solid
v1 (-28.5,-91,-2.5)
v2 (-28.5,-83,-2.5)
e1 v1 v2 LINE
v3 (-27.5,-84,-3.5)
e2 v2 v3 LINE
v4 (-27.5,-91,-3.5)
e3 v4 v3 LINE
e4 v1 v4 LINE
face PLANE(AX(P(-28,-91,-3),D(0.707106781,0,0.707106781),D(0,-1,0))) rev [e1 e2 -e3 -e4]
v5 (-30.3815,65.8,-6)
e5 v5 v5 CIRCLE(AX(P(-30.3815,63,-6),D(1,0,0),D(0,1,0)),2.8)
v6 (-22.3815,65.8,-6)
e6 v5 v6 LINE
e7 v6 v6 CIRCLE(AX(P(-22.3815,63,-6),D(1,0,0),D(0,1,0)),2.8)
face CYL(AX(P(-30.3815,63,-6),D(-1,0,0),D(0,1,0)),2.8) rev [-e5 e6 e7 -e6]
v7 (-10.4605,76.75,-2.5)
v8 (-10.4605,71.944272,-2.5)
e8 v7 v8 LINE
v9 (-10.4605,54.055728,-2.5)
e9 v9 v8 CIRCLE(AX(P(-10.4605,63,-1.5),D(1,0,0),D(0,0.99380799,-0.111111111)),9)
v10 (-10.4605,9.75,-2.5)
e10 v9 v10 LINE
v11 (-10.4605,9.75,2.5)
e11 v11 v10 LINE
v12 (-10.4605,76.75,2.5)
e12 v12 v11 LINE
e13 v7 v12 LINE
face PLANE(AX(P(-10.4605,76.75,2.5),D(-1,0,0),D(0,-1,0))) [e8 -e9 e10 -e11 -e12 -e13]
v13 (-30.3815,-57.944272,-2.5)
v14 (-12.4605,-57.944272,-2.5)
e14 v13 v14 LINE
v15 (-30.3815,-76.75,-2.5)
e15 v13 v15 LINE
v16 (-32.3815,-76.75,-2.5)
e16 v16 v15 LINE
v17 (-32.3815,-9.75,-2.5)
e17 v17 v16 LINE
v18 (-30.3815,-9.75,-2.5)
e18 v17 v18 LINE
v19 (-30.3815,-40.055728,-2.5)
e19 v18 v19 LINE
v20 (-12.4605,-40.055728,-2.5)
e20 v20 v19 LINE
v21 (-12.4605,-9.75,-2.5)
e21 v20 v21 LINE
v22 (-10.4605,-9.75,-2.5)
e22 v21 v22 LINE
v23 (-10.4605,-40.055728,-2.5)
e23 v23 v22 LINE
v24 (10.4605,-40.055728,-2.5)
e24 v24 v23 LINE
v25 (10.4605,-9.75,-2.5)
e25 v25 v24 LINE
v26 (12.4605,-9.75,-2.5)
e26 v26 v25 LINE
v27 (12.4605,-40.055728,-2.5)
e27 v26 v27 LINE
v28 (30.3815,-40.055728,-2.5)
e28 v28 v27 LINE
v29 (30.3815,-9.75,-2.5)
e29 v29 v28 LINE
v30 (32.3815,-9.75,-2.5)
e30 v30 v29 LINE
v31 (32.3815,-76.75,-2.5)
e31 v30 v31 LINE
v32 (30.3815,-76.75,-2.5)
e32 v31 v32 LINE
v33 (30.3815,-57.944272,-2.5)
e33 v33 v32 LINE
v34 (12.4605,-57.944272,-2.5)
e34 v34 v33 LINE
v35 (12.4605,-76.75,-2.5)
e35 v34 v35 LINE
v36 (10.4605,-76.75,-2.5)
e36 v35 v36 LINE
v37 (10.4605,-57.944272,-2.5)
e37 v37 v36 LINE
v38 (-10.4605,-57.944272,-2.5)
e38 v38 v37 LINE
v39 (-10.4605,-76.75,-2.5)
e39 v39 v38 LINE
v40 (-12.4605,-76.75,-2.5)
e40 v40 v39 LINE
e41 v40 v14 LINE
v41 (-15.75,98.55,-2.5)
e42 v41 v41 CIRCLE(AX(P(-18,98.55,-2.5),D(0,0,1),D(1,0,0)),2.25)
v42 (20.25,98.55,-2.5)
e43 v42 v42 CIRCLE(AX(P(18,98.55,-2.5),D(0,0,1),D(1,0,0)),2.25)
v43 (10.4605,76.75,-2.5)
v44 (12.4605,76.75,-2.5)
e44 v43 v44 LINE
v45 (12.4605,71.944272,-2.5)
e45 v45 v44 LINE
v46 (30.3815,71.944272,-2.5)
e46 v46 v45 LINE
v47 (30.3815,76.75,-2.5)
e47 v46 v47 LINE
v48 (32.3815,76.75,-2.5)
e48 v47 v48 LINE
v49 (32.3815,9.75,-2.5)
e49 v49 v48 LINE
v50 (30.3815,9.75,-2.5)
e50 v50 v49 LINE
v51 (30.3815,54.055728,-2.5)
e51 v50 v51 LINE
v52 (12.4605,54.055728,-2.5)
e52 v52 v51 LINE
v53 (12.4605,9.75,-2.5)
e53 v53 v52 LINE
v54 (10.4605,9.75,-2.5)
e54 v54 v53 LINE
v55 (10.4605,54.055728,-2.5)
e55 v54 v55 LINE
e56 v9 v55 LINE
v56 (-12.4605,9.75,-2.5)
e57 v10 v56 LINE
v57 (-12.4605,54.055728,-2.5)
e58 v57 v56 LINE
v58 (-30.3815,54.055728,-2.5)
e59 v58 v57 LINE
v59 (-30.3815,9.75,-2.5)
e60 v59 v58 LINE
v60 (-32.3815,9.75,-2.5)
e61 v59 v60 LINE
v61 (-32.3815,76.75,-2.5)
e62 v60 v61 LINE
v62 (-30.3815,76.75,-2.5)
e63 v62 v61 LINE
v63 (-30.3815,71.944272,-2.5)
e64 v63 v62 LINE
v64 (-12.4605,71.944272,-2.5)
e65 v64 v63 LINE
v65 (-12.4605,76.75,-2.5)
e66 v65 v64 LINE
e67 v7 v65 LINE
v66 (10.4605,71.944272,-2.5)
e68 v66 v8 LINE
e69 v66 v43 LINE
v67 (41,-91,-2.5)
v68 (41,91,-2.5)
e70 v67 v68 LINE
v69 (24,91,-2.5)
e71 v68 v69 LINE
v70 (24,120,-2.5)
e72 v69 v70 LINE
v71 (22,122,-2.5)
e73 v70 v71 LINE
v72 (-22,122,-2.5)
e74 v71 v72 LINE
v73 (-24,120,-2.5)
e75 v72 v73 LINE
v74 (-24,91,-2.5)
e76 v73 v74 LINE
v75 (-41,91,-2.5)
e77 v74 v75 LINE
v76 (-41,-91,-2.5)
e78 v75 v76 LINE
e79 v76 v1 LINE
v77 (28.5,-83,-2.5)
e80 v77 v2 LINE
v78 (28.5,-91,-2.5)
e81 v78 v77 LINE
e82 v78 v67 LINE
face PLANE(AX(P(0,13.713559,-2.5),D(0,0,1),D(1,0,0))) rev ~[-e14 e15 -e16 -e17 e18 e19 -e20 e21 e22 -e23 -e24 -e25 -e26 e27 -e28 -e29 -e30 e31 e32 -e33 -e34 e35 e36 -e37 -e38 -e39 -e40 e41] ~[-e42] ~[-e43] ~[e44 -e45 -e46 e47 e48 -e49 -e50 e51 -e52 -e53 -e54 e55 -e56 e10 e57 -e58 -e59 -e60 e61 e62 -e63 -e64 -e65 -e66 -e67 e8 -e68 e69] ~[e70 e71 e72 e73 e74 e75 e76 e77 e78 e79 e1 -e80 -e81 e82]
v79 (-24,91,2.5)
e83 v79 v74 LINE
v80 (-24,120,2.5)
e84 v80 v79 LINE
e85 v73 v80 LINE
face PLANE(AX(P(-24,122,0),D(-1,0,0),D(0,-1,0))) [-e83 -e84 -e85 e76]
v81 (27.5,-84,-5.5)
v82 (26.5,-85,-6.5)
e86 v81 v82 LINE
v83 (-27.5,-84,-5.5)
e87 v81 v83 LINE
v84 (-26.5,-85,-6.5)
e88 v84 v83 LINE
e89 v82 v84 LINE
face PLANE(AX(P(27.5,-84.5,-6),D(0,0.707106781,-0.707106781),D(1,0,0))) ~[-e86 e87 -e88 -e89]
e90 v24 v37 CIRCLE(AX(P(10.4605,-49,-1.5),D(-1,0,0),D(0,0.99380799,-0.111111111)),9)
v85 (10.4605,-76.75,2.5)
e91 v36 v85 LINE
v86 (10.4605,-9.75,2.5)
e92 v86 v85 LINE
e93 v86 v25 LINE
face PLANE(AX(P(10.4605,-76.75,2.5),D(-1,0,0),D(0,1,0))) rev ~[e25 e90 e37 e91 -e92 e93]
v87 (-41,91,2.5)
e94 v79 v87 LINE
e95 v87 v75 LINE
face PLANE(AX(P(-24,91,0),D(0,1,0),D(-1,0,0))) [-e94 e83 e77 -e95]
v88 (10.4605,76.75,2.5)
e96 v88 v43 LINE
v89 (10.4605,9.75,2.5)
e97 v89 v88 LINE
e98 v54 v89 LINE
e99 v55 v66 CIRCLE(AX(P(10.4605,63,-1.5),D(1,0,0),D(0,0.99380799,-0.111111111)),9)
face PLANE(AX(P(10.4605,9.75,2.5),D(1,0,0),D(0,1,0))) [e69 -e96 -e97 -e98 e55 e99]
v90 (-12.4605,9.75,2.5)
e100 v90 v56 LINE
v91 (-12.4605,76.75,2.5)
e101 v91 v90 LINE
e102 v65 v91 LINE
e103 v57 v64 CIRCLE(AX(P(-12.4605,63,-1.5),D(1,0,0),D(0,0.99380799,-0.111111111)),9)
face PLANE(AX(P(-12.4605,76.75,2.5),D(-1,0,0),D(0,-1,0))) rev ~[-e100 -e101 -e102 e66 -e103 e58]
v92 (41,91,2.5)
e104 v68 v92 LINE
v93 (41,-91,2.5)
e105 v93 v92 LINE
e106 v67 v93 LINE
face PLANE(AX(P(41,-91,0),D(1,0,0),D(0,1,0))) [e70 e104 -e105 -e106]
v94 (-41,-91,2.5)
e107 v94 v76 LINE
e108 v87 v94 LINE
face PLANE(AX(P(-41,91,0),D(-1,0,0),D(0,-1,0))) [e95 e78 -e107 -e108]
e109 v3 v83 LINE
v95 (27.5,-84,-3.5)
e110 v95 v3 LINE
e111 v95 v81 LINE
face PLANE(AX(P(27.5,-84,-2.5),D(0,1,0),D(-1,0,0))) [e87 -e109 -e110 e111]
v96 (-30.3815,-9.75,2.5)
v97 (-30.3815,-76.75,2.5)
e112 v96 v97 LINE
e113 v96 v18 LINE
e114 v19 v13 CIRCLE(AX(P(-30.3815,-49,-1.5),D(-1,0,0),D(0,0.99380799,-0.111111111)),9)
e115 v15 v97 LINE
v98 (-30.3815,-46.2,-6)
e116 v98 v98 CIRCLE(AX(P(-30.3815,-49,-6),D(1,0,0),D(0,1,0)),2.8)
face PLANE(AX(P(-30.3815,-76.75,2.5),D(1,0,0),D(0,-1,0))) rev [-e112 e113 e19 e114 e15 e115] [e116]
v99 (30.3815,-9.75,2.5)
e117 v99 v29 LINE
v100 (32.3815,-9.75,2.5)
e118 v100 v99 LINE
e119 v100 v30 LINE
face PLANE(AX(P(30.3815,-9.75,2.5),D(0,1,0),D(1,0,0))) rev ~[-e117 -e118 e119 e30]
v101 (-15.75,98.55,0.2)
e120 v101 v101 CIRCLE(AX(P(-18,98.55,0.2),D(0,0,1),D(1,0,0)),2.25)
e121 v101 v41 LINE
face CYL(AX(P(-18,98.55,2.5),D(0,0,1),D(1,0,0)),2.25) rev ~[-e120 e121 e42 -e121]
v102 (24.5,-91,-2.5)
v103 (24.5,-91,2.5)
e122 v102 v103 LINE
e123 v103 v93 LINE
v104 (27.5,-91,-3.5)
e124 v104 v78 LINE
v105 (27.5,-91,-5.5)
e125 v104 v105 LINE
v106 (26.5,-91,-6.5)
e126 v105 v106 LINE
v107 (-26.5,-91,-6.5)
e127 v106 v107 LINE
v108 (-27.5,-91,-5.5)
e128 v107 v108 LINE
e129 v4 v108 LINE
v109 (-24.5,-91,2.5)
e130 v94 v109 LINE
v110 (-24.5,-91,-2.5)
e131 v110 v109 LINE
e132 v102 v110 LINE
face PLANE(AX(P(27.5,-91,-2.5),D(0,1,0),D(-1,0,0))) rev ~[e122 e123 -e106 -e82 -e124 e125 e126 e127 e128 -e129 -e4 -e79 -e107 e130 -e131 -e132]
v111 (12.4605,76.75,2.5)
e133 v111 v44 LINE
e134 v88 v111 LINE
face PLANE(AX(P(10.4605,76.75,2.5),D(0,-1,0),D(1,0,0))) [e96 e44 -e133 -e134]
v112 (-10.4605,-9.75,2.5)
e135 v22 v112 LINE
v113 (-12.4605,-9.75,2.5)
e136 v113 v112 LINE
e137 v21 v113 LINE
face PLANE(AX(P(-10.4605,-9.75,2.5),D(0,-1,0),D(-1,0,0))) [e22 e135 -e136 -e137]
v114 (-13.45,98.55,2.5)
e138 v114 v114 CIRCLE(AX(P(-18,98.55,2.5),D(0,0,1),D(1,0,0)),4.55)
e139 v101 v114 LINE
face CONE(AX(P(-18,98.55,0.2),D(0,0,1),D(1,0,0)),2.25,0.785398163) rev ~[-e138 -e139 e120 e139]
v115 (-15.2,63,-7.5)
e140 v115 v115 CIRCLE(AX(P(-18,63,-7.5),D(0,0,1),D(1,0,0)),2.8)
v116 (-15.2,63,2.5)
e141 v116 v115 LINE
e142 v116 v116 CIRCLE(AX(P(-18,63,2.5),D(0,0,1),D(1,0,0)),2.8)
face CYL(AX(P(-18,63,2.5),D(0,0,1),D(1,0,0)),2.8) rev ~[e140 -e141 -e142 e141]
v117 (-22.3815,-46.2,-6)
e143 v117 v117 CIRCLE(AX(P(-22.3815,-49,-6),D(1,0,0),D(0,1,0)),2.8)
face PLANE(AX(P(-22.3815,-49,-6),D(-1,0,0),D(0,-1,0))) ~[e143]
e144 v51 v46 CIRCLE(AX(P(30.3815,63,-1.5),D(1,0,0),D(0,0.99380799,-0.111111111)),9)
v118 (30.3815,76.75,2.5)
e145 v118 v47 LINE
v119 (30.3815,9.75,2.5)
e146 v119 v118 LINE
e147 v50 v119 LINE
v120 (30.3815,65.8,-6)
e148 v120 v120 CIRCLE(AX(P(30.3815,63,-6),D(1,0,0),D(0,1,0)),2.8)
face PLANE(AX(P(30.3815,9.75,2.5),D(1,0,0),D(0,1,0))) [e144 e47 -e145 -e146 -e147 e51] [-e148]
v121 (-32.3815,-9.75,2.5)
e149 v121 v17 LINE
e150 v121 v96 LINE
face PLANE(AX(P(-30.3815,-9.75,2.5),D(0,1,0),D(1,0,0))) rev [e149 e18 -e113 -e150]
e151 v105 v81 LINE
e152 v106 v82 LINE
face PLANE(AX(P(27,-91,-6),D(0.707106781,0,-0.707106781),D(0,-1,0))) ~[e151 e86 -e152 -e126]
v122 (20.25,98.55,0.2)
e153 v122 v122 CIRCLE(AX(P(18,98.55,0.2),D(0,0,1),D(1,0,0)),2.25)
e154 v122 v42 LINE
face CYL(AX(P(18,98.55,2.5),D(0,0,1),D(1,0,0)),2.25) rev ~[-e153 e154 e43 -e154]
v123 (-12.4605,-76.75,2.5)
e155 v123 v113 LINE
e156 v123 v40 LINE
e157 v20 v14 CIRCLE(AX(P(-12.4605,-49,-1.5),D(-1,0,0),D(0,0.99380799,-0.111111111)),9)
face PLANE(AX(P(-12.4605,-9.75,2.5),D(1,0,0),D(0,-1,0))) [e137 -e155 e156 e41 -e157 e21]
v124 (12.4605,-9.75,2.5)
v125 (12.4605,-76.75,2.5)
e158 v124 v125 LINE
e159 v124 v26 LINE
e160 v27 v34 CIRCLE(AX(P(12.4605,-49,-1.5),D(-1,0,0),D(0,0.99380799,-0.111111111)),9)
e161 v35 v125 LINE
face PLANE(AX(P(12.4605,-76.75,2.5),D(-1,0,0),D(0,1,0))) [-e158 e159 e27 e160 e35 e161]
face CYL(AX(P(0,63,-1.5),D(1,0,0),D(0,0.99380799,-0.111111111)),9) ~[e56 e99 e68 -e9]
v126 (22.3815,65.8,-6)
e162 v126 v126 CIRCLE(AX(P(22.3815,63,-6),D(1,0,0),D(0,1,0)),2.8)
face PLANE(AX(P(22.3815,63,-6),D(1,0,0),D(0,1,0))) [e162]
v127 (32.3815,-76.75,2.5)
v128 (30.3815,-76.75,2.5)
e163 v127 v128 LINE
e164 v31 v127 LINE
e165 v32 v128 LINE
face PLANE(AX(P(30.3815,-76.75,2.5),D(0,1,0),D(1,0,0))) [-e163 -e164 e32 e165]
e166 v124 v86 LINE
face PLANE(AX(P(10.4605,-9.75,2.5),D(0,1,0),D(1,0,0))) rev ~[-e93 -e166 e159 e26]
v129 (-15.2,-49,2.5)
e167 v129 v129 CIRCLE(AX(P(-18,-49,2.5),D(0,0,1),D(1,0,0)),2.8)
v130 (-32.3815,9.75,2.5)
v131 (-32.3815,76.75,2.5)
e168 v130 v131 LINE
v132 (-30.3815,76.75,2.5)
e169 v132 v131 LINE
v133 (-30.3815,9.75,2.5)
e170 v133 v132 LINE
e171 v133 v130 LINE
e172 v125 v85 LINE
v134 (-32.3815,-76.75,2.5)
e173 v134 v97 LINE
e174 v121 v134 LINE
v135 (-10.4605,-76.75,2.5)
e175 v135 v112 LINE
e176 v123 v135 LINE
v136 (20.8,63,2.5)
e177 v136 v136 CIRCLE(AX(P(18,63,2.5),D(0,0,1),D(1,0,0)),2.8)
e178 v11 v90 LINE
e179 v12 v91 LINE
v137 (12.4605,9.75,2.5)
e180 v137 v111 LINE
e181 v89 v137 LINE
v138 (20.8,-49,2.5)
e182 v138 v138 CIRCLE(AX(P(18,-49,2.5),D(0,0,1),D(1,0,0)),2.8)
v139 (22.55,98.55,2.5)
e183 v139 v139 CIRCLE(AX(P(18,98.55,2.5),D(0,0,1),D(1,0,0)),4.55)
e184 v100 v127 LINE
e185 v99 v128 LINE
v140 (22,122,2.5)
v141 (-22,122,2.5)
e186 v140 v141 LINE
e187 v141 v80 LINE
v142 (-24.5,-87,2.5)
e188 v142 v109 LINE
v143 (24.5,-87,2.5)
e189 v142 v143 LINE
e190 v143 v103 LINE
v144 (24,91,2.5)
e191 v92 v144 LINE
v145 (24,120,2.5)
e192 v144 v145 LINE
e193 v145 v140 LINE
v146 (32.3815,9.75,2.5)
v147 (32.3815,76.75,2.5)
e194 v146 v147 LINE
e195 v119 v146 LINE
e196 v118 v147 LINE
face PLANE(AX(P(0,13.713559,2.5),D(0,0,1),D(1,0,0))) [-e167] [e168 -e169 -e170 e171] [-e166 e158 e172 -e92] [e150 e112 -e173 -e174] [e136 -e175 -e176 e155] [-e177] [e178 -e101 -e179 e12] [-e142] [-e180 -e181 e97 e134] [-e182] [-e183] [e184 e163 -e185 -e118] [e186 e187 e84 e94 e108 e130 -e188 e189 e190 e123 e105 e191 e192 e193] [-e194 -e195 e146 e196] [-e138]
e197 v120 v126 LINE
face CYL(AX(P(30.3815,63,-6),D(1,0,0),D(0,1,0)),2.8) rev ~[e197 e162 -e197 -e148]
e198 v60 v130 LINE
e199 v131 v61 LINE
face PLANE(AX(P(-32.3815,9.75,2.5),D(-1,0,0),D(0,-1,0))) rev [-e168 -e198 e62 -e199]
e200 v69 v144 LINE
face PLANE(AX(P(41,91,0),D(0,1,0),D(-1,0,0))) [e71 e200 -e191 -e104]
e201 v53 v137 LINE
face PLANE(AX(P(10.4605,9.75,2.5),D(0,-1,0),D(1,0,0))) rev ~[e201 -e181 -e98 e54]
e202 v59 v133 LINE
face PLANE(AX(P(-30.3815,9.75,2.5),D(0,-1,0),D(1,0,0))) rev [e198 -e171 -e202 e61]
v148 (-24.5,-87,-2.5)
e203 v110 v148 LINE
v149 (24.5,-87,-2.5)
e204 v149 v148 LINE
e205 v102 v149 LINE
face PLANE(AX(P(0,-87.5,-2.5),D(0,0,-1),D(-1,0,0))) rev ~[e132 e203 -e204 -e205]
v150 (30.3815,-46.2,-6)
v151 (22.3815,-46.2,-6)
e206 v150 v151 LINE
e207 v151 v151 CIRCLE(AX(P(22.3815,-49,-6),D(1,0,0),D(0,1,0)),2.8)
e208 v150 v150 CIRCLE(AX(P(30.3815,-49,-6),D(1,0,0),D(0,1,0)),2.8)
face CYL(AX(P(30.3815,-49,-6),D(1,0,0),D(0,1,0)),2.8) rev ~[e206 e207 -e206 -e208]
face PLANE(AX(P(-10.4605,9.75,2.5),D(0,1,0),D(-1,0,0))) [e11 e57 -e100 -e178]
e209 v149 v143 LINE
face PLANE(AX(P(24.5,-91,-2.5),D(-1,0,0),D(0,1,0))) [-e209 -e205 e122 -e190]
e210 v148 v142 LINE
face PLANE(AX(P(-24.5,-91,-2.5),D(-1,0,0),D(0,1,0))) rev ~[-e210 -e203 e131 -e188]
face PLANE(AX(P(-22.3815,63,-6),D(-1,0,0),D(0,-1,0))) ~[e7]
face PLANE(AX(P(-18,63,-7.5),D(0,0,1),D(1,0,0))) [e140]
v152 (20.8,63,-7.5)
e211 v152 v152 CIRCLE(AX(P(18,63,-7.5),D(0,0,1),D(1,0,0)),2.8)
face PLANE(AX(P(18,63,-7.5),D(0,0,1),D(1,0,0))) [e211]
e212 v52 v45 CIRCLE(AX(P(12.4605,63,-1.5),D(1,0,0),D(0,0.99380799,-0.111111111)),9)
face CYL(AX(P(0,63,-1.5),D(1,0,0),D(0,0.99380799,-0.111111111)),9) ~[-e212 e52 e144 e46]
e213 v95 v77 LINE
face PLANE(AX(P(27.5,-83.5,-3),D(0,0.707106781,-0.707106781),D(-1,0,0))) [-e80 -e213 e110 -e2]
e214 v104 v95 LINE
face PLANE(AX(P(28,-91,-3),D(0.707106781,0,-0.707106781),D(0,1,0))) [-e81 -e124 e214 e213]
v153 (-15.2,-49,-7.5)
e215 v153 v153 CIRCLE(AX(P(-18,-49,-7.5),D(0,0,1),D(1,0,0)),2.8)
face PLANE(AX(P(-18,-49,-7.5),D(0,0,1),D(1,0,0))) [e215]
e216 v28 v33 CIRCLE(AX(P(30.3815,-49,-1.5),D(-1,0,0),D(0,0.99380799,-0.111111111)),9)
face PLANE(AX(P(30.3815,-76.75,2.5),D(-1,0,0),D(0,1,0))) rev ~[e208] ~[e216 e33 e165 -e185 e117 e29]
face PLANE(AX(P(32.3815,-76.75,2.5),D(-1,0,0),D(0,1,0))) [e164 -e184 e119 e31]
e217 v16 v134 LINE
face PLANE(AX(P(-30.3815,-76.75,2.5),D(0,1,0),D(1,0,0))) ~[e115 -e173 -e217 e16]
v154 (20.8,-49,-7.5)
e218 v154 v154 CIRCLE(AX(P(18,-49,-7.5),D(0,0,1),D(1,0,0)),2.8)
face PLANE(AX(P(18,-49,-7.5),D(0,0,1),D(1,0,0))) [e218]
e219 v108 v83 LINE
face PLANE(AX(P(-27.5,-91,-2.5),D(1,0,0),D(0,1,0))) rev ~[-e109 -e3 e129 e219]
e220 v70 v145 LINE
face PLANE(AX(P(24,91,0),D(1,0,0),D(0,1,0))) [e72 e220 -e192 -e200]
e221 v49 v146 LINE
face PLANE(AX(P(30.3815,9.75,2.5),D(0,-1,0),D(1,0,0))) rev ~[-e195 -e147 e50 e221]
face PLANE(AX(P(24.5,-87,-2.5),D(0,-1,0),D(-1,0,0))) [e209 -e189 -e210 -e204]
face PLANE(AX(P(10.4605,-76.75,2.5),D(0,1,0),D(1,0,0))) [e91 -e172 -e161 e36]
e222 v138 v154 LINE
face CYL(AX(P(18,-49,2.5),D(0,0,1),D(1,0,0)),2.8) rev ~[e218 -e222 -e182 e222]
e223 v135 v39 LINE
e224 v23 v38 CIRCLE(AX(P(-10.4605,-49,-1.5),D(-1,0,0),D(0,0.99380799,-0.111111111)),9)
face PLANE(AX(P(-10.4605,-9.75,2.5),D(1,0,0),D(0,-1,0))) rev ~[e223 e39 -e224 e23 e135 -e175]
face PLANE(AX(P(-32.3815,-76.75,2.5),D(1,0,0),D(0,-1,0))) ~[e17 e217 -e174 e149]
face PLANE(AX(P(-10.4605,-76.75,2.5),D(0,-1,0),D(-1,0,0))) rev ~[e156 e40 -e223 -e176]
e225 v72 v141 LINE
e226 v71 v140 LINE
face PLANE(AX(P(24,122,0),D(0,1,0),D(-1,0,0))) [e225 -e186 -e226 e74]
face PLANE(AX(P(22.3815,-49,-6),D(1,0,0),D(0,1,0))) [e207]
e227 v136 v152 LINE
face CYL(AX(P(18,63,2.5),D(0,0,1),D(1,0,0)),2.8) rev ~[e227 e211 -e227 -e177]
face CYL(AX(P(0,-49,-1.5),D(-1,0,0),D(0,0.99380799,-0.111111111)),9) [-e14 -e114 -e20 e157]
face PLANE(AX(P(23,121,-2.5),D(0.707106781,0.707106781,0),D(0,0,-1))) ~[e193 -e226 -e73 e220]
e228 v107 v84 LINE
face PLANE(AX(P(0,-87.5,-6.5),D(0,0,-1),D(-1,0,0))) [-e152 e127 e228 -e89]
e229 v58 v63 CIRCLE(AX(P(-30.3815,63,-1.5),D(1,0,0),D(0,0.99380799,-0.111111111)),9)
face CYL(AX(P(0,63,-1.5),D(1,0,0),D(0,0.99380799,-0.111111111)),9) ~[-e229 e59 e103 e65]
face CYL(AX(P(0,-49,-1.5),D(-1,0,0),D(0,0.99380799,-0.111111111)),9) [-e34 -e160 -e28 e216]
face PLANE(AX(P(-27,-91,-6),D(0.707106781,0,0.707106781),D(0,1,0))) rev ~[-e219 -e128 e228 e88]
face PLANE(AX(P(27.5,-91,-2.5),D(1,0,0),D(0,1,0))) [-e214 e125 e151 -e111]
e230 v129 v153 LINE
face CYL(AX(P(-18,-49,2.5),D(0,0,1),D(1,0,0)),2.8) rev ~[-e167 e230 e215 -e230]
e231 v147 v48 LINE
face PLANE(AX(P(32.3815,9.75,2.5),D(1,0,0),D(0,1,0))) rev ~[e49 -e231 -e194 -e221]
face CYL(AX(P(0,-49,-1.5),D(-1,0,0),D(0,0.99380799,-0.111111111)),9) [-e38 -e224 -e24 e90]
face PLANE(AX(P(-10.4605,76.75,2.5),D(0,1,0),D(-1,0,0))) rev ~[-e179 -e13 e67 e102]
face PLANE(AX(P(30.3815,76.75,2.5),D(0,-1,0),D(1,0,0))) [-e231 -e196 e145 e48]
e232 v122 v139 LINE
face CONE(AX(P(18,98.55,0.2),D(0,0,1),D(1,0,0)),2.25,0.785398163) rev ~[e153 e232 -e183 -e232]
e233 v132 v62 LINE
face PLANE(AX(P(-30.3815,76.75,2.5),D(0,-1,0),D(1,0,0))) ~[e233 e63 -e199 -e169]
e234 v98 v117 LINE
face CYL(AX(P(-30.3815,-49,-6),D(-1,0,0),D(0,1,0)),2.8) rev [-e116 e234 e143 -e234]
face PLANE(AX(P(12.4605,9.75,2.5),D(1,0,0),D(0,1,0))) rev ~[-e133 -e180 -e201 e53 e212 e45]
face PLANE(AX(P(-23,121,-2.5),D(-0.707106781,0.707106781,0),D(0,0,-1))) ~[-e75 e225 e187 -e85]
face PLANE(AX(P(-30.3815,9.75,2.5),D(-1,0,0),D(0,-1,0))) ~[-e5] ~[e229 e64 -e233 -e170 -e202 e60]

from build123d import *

# Parameters (mm, degrees)
BOSS_EXTRU_1_DEPTH              = 2.5
BOSS_EXTRU_2_DEPTH              = 30.59
ESQUISSE5_W                     = 2
ESQUISSE5_H                     = 67
ENL_V_MAT_EXTRU_1_DEPTH         = 130.359962894
ESQUISSE14_W                    = 49
ESQUISSE14_H                    = 4
ENL_V_MAT_EXTRU_5_DEPTH         = 129.953479984
R_P_TITION_LIN_AIRE2_COUNT      = 2
R_P_TITION_LIN_AIRE2_PITCH      = 19.921
ESQUISSE17_R                    = 2.25
ENL_V_MAT_EXTRU_7_DEPTH         = 10
ESQUISSE15_W                    = 55
ESQUISSE15_H                    = 7
BOSS_EXTRU_4_DEPTH              = 4
CHANFREIN3_SIZE                 = 1
CHANFREIN4_SIZE                 = 2
ESQUISSE19_R                    = 2.8
ENL_V_MAT_EXTRU_9_DEPTH         = 8
CHANFREIN5_SIZE                 = 2.3
SYM_TRIE9_COPY_1_SKETCH_W       = 2
SYM_TRIE9_COPY_1_SKETCH_H       = 67
SYM_TRIE9_COPY_1_DEPTH          = 130.359962894
ESQUISSE20_R                    = 2.8
ENL_V_MAT_EXTRU_10_DEPTH        = 10
R_P_TITION_LIN_AIRE3_COUNT      = 2
R_P_TITION_LIN_AIRE3_PITCH      = 36
R_P_TITION_LIN_AIRE3_COUNT_DIR2 = 2
R_P_TITION_LIN_AIRE3_PITCH_DIR2 = 112


with BuildPart() as part:
    # Esquisse1 → Boss.-Extru.1 (new, symmetric)
    with BuildSketch(Plane.XY):
        Polygon((-41, -91), (-15.008, -91), (41, -91), (41, 91), (24, 91), (24, 122), (-24, 122), (-24, 91), (-41, 91), align=None)
    extrude(amount=BOSS_EXTRU_1_DEPTH, both=True)

    # Esquisse6 → Boss.-Extru.2 (add, symmetric)
    with BuildSketch(Plane(origin=(0, 0, 0), x_dir=(0, 0, -1), z_dir=(1, 0, 0))):
        with BuildLine():
            Line((2.5, -57.94427191), (2.5, -40.05572809))
            ThreePointArc((2.5, -40.05572809), (10.5, -49), (2.5, -57.94427191))
        make_face()
        with BuildLine():
            Line((2.5, 54.05572809), (2.5, 71.94427191))
            ThreePointArc((2.5, 71.94427191), (10.5, 63), (2.5, 54.05572809))
        make_face()
    extrude(amount=BOSS_EXTRU_2_DEPTH, both=True)

    # Esquisse5 → Enlèv. mat.-Extru.1 (cut, symmetric)
    with BuildSketch(Plane.XY.offset(2.5)):
        with Locations((31.3815, -43.25)):
            Rectangle(ESQUISSE5_W, ESQUISSE5_H)
        with Locations((31.3815, 43.25)):
            Rectangle(ESQUISSE5_W, ESQUISSE5_H)
    enl_v_mat_extru_1 = extrude(amount=ENL_V_MAT_EXTRU_1_DEPTH, both=True, mode=Mode.SUBTRACT)

    # Esquisse14 → Enlèv. mat.-Extru.5 (cut, through all)
    with BuildSketch(Plane(origin=(0, 0, -2.5), x_dir=(-1, 0, 0), z_dir=(0, 0, -1))):
        with Locations((0, -89)):
            Rectangle(ESQUISSE14_W, ESQUISSE14_H)
    extrude(amount=-ENL_V_MAT_EXTRU_5_DEPTH, mode=Mode.SUBTRACT)

    # Répétition linéaire2: Enlèv. mat.-Extru.1 ×2
    with Locations(*[(-i * R_P_TITION_LIN_AIRE2_PITCH, 0, 0) for i in range(1, R_P_TITION_LIN_AIRE2_COUNT)]):
        add(enl_v_mat_extru_1, mode=Mode.SUBTRACT)

    # Esquisse17 → Enlèv. mat.-Extru.7 (cut)
    with BuildSketch(Plane.XY.offset(2.5)):
        with Locations((18, 98.55)):
            Circle(ESQUISSE17_R)
        with Locations((-18, 98.55)):
            Circle(ESQUISSE17_R)
    extrude(amount=-ENL_V_MAT_EXTRU_7_DEPTH, mode=Mode.SUBTRACT)

    # Esquisse15 → Boss.-Extru.4 (add)
    with BuildSketch(Plane(origin=(0, 0, -2.5), x_dir=(-1, 0, 0), z_dir=(0, 0, -1))):
        with Locations((0, -87.5)):
            Rectangle(ESQUISSE15_W, ESQUISSE15_H)
    extrude(amount=BOSS_EXTRU_4_DEPTH)

    # Chanfrein3
    chanfrein3_edges = [part.edges().sort_by_distance(p)[0] for p in [
        (27.5, -87.5, -2.5),
        (-27.5, -87.5, -2.5),
        (0, -84, -2.5),
        (27.5, -87.5, -6.5),
        (-27.5, -87.5, -6.5),
        (0, -84, -6.5),
    ]]
    chamfer(chanfrein3_edges, length=CHANFREIN3_SIZE)

    # Chanfrein4
    chanfrein4_edges = [part.edges().sort_by_distance(p)[0] for p in [
        (-24, 122, 0),
        (24, 122, 0),
    ]]
    chamfer(chanfrein4_edges, length=CHANFREIN4_SIZE)

    # Esquisse19 → Enlèv. mat.-Extru.9 (cut)
    with BuildSketch(Plane(origin=(30.3815, 0, 0), x_dir=(0, 0, -1), z_dir=(1, 0, 0))):
        with Locations(Location((6, 63, 0), (0, 0, 90))):
            Circle(ESQUISSE19_R)
        with Locations(Location((6, -49, 0), (0, 0, 90))):
            Circle(ESQUISSE19_R)
    enl_v_mat_extru_9 = extrude(amount=-ENL_V_MAT_EXTRU_9_DEPTH, mode=Mode.SUBTRACT)

    # Symétrie8: Enlèv. mat.-Extru.9 across plane
    add(enl_v_mat_extru_9.mirror(Plane(origin=(0, 0, 0), x_dir=(0, 0, 1), z_dir=(1, 0, 0))), mode=Mode.SUBTRACT)

    # Chanfrein5
    chanfrein5_edges = [part.edges().sort_by_distance(p)[0] for p in [
        (15.75, 98.55, 2.5),
        (-20.25, 98.55, 2.5),
    ]]
    chamfer(chanfrein5_edges, length=CHANFREIN5_SIZE)

    # Symétrie9: Enlèv. mat.-Extru.1 across plane
    add(enl_v_mat_extru_1.mirror(Plane(origin=(0, 0, 0), x_dir=(0, 0, 1), z_dir=(1, 0, 0))), mode=Mode.SUBTRACT)

    # Symétrie9 copy 1 sketch → Symétrie9 copy 1 (cut, symmetric)
    with BuildSketch(Plane(origin=(19.921, 0, 2.5), x_dir=(-1, 0, 0), z_dir=(0, 0, 1))):
        with Locations((31.3815, 43.25)):
            Rectangle(SYM_TRIE9_COPY_1_SKETCH_W, SYM_TRIE9_COPY_1_SKETCH_H)
        with Locations((31.3815, -43.25)):
            Rectangle(SYM_TRIE9_COPY_1_SKETCH_W, SYM_TRIE9_COPY_1_SKETCH_H)
    extrude(amount=SYM_TRIE9_COPY_1_DEPTH, both=True, mode=Mode.SUBTRACT)

    # Esquisse20 → Enlèv. mat.-Extru.10 (cut)
    with BuildSketch(Plane.XY.offset(2.5)):
        with Locations((-18, -49)):
            Circle(ESQUISSE20_R)
    enl_v_mat_extru_10 = extrude(amount=-ENL_V_MAT_EXTRU_10_DEPTH, mode=Mode.SUBTRACT)

    # Répétition linéaire3: Enl_v. mat.-Extru.10 2 × 2
    with Locations(*[(i * R_P_TITION_LIN_AIRE3_PITCH, j * R_P_TITION_LIN_AIRE3_PITCH_DIR2, 0) for i in range(R_P_TITION_LIN_AIRE3_COUNT) for j in range(R_P_TITION_LIN_AIRE3_COUNT_DIR2) if (i, j) != (0, 0)]):
        add(enl_v_mat_extru_10, mode=Mode.SUBTRACT)


solid = part.part
